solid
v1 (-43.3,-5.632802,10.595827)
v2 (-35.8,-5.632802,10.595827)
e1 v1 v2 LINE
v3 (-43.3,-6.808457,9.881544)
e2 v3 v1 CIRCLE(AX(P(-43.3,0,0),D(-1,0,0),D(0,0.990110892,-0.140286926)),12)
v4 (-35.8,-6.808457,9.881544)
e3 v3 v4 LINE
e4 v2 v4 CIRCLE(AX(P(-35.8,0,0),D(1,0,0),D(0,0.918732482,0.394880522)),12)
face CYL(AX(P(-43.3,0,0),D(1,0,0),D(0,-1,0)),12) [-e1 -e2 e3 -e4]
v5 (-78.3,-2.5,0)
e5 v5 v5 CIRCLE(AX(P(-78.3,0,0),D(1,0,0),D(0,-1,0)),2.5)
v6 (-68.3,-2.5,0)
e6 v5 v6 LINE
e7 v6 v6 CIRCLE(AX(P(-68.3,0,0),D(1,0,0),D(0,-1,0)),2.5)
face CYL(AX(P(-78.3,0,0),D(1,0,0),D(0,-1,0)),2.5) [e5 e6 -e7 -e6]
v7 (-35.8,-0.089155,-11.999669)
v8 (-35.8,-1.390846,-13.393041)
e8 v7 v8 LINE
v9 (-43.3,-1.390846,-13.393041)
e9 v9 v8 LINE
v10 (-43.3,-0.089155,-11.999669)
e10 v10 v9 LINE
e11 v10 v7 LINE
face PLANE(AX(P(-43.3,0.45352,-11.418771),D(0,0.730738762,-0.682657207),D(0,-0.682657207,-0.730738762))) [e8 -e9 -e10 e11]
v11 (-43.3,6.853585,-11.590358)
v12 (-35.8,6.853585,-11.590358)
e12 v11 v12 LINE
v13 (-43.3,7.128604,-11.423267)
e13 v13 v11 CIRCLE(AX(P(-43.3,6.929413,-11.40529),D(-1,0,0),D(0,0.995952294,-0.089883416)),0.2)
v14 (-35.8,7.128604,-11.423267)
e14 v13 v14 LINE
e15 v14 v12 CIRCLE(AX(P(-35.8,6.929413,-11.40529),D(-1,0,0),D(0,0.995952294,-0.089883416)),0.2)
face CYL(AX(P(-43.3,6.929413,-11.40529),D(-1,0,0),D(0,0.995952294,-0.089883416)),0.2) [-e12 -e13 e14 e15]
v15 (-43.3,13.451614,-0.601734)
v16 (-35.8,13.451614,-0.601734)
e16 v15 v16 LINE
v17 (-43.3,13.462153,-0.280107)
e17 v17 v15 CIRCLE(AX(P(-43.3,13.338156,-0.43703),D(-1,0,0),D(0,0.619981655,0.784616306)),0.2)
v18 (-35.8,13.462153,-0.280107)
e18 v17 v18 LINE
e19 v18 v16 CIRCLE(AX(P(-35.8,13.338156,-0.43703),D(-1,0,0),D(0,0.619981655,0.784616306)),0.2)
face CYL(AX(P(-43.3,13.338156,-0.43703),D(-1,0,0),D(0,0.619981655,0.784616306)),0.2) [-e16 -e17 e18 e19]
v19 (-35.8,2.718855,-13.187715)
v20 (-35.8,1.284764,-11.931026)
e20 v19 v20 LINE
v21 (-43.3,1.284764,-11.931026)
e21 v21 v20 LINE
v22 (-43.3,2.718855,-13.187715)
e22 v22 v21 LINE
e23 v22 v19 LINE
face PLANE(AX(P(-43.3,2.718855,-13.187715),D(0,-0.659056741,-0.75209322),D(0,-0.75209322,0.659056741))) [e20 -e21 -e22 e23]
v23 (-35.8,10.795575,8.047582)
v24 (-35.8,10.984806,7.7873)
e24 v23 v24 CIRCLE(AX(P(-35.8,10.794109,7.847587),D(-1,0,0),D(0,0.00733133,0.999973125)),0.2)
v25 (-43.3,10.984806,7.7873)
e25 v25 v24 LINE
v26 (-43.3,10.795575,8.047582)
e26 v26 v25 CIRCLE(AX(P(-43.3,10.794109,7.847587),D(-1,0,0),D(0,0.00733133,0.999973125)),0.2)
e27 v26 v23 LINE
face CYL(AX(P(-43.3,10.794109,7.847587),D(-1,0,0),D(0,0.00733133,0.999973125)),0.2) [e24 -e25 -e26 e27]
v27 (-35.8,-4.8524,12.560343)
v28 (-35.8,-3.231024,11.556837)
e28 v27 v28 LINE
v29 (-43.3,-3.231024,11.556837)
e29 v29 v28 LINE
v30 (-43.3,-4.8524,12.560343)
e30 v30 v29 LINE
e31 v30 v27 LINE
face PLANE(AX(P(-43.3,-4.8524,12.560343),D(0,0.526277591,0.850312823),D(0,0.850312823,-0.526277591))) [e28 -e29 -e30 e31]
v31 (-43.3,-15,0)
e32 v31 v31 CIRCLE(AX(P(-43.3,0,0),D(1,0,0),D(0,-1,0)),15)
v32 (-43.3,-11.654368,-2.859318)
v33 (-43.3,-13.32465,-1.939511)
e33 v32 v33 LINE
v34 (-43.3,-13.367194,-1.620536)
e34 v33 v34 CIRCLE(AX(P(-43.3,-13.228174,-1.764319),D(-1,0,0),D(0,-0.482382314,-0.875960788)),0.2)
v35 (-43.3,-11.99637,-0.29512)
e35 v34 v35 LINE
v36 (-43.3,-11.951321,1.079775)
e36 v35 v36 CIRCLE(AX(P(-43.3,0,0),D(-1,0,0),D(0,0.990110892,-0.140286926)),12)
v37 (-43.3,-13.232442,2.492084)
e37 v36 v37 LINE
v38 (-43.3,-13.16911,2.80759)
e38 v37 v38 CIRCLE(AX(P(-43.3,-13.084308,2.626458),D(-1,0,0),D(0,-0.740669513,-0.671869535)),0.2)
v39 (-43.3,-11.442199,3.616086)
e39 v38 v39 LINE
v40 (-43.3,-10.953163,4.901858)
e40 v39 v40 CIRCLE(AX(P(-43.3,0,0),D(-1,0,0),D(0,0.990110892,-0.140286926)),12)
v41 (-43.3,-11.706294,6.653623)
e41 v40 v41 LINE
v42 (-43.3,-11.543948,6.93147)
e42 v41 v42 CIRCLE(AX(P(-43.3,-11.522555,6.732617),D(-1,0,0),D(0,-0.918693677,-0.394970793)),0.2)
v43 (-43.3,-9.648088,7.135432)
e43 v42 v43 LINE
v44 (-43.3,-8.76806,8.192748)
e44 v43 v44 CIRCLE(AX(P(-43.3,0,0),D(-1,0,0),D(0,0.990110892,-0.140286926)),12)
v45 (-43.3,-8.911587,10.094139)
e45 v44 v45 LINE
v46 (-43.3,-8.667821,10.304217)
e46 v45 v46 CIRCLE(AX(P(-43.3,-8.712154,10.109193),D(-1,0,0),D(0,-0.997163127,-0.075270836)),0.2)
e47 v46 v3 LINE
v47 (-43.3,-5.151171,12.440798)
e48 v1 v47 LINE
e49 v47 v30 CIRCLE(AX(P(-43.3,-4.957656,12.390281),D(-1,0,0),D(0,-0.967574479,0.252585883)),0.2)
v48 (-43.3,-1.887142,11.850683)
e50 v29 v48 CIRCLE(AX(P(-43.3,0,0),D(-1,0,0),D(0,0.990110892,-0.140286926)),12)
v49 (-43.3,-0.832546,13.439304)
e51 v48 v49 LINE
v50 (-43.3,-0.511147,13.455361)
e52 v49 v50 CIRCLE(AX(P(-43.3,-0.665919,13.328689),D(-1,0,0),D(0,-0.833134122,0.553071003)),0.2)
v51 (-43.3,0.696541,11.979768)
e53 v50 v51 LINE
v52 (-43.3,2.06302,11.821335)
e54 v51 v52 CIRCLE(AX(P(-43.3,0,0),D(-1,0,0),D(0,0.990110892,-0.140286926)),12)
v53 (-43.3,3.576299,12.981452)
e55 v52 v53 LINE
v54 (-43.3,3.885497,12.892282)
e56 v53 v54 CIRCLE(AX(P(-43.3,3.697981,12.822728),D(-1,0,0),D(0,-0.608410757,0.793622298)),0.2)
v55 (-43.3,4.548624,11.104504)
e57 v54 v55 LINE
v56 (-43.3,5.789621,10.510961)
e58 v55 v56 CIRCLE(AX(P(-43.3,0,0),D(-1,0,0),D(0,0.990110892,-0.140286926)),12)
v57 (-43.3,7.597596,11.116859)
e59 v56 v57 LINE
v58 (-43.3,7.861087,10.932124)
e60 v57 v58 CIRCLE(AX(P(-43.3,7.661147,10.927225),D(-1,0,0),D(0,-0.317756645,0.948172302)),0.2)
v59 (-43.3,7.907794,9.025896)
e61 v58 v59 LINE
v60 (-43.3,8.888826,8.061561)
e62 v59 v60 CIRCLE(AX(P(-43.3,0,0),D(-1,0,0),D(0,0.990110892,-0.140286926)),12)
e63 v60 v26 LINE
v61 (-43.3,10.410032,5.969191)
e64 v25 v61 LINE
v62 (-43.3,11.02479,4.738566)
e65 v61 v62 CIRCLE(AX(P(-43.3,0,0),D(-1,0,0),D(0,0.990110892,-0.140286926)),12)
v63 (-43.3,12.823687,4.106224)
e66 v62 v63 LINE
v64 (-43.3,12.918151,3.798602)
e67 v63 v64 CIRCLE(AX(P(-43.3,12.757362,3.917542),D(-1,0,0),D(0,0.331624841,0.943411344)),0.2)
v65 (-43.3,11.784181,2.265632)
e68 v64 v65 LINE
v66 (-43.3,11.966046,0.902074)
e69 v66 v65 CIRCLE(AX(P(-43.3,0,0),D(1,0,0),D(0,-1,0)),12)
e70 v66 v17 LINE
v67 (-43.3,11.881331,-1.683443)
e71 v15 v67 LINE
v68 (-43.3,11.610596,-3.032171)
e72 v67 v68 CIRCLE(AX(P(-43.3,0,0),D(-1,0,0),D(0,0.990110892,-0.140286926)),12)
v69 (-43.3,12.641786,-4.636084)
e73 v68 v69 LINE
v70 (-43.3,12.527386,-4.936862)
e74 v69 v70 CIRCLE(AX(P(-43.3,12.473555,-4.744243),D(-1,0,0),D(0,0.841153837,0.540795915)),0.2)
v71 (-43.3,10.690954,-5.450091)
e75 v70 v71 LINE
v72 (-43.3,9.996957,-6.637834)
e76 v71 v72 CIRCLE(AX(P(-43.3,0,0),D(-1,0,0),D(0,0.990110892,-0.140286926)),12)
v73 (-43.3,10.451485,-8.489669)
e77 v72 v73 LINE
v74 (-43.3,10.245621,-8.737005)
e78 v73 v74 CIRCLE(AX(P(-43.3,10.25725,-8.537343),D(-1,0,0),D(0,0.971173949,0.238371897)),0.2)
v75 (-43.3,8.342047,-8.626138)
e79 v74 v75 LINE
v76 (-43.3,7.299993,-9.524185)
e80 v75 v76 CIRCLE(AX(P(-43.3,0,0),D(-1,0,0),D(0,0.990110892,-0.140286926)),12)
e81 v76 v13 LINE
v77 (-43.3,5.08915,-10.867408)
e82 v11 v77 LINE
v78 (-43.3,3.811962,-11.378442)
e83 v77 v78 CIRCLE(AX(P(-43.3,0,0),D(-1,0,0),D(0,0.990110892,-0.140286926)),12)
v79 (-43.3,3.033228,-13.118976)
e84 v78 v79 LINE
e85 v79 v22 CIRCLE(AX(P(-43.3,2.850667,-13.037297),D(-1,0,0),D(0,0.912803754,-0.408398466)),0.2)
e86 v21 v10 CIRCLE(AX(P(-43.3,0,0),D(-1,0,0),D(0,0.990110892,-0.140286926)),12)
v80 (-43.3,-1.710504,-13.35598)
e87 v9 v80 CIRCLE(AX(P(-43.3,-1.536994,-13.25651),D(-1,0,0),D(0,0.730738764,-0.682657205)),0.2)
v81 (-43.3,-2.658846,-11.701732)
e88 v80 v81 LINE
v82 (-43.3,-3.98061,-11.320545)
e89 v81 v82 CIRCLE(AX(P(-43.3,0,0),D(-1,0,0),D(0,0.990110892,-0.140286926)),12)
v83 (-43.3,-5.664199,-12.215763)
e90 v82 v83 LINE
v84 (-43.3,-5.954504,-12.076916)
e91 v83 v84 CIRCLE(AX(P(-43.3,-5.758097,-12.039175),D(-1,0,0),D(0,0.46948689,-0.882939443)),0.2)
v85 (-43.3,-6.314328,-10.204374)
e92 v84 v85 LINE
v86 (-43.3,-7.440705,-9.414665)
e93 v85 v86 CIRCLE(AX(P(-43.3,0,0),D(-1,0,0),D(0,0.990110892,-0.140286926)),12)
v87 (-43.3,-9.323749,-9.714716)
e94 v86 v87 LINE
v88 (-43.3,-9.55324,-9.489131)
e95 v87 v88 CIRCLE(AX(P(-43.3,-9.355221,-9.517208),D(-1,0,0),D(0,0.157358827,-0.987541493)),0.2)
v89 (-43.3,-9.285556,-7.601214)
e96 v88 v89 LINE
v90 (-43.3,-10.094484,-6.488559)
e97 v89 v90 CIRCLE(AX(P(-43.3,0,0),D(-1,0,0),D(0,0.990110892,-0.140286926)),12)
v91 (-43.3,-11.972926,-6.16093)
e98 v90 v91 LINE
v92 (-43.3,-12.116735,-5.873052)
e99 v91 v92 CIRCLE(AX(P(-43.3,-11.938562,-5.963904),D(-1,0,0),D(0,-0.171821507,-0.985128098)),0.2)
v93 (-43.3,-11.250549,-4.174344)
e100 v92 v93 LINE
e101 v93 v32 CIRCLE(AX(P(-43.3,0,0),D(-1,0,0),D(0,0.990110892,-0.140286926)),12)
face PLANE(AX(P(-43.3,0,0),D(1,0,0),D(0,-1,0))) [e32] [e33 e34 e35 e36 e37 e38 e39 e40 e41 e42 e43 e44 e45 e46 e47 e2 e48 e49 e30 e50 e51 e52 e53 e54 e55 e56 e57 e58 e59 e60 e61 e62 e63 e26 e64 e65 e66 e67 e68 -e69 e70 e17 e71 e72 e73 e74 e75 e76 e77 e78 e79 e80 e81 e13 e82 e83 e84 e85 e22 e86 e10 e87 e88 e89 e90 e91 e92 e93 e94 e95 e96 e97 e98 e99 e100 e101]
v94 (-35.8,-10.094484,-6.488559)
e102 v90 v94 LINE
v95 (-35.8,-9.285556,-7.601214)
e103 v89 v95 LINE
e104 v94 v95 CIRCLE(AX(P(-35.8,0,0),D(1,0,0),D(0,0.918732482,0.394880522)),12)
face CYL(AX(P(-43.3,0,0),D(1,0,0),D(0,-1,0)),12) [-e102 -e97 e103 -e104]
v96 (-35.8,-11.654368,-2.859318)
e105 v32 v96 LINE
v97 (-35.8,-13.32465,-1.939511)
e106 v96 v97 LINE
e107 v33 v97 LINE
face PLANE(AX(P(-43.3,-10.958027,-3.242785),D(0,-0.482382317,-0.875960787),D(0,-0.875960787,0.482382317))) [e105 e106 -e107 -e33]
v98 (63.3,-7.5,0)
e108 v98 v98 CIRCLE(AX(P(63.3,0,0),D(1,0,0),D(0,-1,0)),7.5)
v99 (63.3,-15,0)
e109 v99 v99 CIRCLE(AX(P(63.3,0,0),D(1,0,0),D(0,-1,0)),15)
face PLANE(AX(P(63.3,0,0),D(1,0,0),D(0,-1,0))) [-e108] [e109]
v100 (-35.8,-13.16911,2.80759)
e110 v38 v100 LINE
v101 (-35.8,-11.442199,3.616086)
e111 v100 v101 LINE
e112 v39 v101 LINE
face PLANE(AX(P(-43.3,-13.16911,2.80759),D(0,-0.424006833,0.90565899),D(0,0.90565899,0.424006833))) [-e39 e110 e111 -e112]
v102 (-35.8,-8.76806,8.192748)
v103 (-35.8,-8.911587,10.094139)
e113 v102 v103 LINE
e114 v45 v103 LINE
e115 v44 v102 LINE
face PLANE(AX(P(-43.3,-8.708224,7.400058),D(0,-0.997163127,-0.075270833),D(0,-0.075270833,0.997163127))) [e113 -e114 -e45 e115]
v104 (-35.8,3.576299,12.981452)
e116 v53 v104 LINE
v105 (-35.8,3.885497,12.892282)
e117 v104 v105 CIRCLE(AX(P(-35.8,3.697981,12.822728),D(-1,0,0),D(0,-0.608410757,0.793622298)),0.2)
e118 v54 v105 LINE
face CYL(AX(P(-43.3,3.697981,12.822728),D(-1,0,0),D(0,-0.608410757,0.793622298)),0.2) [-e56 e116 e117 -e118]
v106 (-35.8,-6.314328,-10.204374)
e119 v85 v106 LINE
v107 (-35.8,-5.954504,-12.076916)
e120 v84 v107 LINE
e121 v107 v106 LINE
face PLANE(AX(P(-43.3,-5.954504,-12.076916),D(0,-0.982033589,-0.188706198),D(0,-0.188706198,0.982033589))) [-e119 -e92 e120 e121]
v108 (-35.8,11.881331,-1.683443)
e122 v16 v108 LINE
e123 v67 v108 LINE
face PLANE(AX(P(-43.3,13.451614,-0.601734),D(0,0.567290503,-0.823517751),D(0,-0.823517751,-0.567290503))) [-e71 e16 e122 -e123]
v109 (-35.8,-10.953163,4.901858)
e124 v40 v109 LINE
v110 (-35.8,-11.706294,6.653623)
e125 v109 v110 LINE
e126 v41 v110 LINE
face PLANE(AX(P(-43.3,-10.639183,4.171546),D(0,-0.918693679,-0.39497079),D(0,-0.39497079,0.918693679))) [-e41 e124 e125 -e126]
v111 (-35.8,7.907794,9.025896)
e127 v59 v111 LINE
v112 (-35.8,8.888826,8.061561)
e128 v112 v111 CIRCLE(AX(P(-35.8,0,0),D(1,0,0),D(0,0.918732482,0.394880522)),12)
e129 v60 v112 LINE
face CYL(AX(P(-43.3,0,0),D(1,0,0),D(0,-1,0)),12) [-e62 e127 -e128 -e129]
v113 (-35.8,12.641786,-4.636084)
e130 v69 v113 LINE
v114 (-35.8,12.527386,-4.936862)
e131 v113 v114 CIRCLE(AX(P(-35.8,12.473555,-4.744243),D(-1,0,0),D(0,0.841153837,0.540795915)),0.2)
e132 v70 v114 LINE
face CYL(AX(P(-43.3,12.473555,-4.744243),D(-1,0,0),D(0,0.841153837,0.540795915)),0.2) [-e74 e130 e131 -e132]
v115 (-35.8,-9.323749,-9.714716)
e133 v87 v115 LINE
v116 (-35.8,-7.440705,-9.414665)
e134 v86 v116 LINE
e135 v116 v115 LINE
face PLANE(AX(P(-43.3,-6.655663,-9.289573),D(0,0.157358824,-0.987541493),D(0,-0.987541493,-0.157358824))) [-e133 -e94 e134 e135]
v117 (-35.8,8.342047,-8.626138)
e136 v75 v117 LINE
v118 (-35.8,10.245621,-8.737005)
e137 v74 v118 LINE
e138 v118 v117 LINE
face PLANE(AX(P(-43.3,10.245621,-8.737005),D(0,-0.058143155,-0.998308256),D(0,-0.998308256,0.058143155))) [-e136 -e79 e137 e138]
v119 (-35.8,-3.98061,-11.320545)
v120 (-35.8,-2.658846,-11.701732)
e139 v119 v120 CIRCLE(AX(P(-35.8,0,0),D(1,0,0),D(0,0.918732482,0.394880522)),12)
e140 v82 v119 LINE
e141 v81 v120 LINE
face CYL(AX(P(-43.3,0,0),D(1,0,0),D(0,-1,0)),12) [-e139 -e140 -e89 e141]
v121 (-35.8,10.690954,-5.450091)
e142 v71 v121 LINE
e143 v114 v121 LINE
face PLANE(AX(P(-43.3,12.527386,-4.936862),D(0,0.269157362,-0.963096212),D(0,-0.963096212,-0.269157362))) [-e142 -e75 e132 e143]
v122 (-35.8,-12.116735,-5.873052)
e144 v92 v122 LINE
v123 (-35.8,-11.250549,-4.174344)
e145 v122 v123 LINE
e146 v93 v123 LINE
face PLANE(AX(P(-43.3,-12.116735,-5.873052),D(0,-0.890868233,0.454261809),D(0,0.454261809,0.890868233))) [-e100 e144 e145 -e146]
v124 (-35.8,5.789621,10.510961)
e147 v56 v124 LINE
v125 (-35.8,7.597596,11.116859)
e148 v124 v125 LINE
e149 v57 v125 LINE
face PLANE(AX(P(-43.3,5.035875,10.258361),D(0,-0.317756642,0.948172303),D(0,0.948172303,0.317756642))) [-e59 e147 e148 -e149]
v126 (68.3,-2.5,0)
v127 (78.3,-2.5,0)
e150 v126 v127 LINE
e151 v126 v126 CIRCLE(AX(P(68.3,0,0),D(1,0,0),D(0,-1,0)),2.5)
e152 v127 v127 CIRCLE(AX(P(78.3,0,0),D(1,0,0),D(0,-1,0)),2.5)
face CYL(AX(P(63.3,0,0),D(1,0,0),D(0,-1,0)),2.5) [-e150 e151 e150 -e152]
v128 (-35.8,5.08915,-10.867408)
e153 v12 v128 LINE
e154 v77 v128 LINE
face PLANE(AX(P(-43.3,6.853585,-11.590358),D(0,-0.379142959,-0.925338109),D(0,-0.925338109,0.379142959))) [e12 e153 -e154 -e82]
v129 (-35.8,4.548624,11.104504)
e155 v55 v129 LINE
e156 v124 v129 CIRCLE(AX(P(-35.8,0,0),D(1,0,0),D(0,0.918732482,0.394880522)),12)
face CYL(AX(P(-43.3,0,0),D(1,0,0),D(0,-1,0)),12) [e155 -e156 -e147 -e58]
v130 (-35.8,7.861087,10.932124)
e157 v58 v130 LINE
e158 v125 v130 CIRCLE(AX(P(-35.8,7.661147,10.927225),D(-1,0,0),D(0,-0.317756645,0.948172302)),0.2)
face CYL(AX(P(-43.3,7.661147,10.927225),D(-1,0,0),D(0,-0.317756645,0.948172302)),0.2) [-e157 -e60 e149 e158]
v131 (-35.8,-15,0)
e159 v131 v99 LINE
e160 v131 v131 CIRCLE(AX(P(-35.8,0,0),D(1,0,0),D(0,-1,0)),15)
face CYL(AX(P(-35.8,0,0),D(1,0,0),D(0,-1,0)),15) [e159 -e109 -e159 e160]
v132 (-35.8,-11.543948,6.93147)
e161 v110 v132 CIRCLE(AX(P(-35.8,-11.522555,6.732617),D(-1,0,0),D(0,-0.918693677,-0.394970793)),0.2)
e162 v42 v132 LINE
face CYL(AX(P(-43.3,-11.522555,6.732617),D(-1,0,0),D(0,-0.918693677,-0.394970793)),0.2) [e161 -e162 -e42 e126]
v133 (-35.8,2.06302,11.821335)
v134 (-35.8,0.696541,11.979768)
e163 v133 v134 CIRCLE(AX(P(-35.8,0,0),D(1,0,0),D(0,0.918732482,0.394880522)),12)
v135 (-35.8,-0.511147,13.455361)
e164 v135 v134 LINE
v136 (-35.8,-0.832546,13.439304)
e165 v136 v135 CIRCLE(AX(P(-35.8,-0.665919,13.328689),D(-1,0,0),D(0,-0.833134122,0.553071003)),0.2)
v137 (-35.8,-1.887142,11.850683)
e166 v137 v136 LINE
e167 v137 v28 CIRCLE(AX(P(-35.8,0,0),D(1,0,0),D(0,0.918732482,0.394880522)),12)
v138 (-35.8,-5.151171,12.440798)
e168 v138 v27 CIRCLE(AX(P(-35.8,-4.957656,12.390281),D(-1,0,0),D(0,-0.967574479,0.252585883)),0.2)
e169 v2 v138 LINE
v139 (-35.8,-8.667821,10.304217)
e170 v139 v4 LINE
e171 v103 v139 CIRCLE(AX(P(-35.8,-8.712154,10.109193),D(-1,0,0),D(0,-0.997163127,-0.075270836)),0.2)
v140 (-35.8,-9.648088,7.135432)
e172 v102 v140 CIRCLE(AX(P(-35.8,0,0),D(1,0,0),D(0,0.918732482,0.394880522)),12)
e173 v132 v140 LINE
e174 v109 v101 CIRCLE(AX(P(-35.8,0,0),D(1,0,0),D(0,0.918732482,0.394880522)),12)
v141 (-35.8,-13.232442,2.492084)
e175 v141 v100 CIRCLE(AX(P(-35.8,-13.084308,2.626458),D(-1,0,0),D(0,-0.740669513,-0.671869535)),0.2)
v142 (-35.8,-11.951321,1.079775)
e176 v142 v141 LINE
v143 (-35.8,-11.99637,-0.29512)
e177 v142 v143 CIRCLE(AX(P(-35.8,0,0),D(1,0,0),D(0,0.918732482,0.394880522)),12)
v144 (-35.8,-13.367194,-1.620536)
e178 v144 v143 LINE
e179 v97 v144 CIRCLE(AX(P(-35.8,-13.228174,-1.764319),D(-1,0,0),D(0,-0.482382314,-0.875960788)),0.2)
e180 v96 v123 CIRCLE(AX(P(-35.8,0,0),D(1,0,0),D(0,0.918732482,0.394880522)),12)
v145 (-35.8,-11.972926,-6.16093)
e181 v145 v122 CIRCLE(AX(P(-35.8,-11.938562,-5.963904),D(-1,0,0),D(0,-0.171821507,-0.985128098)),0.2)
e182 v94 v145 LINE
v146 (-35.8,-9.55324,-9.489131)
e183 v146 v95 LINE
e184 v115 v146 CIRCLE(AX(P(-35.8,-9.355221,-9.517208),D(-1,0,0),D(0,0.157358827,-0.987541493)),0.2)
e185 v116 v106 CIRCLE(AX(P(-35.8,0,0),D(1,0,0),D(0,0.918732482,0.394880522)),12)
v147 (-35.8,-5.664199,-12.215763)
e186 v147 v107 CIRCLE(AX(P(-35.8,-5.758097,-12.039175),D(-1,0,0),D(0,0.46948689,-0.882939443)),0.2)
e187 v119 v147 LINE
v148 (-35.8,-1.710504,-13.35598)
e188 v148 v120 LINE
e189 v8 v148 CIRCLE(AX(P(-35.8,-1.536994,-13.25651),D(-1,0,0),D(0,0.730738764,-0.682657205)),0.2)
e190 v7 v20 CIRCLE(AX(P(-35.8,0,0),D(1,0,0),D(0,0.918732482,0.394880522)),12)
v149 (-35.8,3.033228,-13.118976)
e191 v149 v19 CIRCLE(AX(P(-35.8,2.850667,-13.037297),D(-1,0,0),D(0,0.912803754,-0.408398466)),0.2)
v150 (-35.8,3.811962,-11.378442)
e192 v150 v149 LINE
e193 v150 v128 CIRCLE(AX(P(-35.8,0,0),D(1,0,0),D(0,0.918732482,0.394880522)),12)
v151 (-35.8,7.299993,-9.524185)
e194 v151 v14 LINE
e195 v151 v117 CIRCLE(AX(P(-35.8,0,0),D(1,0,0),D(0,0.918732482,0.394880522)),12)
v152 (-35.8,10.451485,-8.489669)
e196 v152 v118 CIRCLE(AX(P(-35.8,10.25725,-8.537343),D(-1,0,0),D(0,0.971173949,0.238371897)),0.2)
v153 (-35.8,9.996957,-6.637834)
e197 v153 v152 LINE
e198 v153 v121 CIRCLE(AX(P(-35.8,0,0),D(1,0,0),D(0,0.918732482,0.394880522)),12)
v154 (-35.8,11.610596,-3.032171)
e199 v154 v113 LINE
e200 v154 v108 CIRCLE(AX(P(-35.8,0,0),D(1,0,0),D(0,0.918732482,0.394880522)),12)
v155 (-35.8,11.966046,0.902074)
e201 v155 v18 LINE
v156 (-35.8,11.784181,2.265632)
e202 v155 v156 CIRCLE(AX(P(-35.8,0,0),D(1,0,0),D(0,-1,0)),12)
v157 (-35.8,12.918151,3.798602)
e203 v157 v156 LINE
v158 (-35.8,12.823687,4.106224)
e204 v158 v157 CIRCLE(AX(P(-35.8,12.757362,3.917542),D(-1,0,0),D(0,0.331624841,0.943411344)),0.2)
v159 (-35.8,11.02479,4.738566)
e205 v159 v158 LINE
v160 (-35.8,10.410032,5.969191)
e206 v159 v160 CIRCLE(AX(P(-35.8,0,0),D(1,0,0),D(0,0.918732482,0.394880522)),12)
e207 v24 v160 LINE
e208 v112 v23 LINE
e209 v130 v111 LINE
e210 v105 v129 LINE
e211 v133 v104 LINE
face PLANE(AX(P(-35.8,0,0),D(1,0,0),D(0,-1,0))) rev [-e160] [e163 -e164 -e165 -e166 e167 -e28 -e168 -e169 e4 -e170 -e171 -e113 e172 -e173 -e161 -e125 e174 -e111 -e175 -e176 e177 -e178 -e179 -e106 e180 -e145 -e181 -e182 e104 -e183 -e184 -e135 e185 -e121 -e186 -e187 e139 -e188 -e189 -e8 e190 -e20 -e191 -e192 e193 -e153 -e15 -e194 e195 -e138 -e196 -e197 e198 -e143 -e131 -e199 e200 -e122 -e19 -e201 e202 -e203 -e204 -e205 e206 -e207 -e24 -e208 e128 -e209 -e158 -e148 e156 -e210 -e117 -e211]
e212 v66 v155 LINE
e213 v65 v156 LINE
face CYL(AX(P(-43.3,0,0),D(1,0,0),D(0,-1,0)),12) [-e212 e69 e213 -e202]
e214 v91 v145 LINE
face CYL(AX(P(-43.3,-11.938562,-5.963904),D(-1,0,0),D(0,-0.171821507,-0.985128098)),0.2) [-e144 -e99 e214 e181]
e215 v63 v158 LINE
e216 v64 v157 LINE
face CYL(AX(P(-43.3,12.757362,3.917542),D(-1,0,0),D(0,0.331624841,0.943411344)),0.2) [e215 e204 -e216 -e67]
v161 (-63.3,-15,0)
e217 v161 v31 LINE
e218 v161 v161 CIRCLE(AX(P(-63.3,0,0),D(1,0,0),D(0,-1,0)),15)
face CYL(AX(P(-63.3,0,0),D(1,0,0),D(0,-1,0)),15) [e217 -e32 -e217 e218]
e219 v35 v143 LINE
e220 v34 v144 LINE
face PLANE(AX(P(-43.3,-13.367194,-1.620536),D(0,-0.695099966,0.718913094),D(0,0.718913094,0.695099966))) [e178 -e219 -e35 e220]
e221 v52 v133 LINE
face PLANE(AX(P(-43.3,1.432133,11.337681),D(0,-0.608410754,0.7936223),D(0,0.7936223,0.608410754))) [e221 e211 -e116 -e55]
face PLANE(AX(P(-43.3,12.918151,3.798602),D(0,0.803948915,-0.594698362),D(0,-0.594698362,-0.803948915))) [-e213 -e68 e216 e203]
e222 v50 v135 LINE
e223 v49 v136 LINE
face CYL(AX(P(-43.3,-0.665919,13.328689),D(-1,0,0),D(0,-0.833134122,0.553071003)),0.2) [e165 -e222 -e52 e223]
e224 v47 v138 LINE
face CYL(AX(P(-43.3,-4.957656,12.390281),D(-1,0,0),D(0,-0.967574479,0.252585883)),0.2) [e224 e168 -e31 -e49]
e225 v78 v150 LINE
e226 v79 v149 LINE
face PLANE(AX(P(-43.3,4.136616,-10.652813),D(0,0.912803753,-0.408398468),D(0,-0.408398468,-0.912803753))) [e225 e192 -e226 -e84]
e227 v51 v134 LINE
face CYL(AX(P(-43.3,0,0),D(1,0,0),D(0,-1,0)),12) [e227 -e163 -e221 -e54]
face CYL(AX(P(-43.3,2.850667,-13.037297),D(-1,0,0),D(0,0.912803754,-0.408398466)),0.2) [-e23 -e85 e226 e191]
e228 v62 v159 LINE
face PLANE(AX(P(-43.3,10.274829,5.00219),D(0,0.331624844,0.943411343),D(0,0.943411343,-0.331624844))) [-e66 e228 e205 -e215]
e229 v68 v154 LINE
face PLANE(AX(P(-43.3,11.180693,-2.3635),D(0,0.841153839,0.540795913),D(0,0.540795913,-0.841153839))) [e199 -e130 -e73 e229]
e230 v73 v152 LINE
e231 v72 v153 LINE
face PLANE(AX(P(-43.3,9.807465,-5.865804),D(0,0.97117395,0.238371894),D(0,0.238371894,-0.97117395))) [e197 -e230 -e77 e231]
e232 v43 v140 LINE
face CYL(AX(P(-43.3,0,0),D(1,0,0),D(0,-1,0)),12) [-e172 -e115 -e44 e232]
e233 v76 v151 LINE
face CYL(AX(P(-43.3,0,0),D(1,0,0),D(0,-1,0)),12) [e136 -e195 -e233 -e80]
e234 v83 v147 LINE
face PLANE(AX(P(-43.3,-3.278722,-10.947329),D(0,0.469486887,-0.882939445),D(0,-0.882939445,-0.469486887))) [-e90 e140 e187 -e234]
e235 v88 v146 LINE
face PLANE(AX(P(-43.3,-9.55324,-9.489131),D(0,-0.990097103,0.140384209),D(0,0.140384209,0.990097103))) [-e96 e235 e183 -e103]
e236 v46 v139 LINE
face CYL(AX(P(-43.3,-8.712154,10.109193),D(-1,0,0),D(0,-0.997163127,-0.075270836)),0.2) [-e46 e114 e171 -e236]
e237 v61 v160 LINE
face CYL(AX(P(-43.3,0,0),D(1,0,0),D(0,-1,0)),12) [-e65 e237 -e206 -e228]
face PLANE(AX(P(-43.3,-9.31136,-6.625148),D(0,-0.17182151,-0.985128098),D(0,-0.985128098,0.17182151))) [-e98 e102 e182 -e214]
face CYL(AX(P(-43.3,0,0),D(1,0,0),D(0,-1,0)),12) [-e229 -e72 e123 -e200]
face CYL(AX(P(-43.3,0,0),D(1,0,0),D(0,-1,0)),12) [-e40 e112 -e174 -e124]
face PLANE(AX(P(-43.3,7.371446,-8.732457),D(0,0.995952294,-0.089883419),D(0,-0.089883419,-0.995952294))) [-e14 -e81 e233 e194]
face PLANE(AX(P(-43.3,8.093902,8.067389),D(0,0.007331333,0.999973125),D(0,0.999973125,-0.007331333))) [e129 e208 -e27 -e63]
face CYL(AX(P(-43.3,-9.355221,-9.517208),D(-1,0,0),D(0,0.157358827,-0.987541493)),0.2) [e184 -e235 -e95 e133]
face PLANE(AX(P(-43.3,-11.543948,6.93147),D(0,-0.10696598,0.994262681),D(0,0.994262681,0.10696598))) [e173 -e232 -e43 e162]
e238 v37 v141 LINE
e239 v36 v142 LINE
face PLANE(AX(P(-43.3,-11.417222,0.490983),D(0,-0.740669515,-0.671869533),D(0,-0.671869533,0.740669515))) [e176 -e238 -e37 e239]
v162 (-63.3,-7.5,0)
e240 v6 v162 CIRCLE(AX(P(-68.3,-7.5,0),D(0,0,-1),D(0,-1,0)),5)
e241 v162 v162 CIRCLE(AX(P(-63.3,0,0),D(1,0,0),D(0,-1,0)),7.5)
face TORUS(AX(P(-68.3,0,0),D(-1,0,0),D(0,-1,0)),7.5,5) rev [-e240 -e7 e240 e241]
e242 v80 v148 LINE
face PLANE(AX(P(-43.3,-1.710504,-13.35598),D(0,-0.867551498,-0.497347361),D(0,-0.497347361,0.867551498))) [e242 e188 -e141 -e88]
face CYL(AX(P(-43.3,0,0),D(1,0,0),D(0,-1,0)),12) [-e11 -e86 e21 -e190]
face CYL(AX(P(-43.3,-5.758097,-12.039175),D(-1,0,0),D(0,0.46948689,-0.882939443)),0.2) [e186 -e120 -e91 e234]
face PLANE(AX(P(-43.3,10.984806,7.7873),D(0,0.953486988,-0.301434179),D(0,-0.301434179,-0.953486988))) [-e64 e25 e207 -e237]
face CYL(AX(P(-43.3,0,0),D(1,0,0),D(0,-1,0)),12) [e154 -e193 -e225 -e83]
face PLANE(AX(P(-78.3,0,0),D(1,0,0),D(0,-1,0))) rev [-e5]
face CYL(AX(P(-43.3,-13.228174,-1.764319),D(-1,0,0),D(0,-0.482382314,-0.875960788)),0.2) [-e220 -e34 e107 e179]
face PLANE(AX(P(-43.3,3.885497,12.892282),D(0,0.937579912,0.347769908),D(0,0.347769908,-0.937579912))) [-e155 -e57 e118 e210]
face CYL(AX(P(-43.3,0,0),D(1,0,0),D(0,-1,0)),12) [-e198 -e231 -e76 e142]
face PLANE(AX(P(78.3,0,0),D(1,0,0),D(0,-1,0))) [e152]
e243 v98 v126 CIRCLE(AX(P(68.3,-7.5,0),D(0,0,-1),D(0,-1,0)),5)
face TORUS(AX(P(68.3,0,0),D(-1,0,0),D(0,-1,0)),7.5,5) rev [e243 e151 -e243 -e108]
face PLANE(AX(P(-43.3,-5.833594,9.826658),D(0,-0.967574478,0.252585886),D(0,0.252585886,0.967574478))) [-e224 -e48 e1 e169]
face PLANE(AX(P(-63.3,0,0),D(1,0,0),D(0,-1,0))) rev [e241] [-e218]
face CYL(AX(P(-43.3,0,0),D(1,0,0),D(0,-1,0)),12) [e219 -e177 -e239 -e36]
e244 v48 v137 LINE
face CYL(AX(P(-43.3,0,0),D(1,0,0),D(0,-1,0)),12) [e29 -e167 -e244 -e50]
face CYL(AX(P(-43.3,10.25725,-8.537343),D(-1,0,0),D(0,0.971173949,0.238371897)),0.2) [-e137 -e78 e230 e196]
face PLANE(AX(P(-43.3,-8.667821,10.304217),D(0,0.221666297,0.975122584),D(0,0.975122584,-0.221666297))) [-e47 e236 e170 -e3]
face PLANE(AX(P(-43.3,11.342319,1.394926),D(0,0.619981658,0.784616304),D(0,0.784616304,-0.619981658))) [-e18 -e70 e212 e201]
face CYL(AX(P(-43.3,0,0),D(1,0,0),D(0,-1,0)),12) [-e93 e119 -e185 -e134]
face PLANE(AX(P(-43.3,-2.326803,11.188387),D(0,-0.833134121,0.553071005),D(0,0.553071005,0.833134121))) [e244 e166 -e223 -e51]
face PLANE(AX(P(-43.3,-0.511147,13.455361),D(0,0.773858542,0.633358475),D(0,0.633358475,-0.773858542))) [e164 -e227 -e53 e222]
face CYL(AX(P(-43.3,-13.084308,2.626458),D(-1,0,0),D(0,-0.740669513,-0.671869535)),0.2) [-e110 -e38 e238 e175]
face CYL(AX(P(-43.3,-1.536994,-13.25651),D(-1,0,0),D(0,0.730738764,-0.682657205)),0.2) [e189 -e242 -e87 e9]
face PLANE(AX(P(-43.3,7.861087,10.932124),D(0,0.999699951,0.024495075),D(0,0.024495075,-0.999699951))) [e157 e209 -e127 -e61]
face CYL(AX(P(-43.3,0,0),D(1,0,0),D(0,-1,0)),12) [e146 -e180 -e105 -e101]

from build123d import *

# Parameters (mm, degrees)
CONG_1_R                     = 5
BOSS_EXTRU_1_DEPTH           = 7.5
R_P_TITION_CIRCULAIRE1_COUNT = 19


with BuildPart() as part:
    # Esquisse1 → Révolution1 (revolve)
    with BuildSketch(Plane.XY, mode=Mode.PRIVATE) as r_volution1_sk:
        Polygon((-78.3, 0), (-78.3, 2.5), (-63.3, 2.5), (-63.3, 15), (-43.3, 15), (-43.3, 12), (-35.8, 12), (-35.8, 15), (63.3, 15), (63.3, 2.5), (78.3, 2.5), (78.3, 0), align=None)
    revolve(r_volution1_sk.sketch.rotate(Axis((-78.3, 0, 0), (1, 0, 0)), 180), axis=Axis((-78.3, 0, 0), (1, 0, 0)))

    # Congé1
    cong_1_edges = [part.edges().sort_by_distance(p)[0] for p in [
        (63.3, 2.5, 0),
        (-63.3, 2.5, 0),
    ]]
    fillet(cong_1_edges, radius=CONG_1_R)

    # Esquisse3 → Boss.-Extru.1 (add)
    with BuildSketch(Plane(origin=(-43.3, 0, 0), x_dir=(0, 0, -1), z_dir=(1, 0, 0))):
        with BuildLine():
            Line((0.601733572, 13.451614371), (2.134408168, 11.226678946))
            Line((2.134408168, 11.226678946), (-1.394925929, 11.342318989))
            Line((-1.394925929, 11.342318989), (0.280106761, 13.462152602))
            ThreePointArc((0.280106761, 13.462152602), (0.443579587, 13.538049), (0.601733572, 13.451614371))
        make_face()
    boss_extru_1 = extrude(amount=BOSS_EXTRU_1_DEPTH)

    # Répétition circulaire1: Boss.-Extru.1 ×19 about axis
    r_p_tition_circulaire1_axis = Axis((0, 0, 0), (1, 0, 0))
    for i in range(1, R_P_TITION_CIRCULAIRE1_COUNT):
        add(boss_extru_1.rotate(r_p_tition_circulaire1_axis, i * 360 / R_P_TITION_CIRCULAIRE1_COUNT))


solid = part.part
